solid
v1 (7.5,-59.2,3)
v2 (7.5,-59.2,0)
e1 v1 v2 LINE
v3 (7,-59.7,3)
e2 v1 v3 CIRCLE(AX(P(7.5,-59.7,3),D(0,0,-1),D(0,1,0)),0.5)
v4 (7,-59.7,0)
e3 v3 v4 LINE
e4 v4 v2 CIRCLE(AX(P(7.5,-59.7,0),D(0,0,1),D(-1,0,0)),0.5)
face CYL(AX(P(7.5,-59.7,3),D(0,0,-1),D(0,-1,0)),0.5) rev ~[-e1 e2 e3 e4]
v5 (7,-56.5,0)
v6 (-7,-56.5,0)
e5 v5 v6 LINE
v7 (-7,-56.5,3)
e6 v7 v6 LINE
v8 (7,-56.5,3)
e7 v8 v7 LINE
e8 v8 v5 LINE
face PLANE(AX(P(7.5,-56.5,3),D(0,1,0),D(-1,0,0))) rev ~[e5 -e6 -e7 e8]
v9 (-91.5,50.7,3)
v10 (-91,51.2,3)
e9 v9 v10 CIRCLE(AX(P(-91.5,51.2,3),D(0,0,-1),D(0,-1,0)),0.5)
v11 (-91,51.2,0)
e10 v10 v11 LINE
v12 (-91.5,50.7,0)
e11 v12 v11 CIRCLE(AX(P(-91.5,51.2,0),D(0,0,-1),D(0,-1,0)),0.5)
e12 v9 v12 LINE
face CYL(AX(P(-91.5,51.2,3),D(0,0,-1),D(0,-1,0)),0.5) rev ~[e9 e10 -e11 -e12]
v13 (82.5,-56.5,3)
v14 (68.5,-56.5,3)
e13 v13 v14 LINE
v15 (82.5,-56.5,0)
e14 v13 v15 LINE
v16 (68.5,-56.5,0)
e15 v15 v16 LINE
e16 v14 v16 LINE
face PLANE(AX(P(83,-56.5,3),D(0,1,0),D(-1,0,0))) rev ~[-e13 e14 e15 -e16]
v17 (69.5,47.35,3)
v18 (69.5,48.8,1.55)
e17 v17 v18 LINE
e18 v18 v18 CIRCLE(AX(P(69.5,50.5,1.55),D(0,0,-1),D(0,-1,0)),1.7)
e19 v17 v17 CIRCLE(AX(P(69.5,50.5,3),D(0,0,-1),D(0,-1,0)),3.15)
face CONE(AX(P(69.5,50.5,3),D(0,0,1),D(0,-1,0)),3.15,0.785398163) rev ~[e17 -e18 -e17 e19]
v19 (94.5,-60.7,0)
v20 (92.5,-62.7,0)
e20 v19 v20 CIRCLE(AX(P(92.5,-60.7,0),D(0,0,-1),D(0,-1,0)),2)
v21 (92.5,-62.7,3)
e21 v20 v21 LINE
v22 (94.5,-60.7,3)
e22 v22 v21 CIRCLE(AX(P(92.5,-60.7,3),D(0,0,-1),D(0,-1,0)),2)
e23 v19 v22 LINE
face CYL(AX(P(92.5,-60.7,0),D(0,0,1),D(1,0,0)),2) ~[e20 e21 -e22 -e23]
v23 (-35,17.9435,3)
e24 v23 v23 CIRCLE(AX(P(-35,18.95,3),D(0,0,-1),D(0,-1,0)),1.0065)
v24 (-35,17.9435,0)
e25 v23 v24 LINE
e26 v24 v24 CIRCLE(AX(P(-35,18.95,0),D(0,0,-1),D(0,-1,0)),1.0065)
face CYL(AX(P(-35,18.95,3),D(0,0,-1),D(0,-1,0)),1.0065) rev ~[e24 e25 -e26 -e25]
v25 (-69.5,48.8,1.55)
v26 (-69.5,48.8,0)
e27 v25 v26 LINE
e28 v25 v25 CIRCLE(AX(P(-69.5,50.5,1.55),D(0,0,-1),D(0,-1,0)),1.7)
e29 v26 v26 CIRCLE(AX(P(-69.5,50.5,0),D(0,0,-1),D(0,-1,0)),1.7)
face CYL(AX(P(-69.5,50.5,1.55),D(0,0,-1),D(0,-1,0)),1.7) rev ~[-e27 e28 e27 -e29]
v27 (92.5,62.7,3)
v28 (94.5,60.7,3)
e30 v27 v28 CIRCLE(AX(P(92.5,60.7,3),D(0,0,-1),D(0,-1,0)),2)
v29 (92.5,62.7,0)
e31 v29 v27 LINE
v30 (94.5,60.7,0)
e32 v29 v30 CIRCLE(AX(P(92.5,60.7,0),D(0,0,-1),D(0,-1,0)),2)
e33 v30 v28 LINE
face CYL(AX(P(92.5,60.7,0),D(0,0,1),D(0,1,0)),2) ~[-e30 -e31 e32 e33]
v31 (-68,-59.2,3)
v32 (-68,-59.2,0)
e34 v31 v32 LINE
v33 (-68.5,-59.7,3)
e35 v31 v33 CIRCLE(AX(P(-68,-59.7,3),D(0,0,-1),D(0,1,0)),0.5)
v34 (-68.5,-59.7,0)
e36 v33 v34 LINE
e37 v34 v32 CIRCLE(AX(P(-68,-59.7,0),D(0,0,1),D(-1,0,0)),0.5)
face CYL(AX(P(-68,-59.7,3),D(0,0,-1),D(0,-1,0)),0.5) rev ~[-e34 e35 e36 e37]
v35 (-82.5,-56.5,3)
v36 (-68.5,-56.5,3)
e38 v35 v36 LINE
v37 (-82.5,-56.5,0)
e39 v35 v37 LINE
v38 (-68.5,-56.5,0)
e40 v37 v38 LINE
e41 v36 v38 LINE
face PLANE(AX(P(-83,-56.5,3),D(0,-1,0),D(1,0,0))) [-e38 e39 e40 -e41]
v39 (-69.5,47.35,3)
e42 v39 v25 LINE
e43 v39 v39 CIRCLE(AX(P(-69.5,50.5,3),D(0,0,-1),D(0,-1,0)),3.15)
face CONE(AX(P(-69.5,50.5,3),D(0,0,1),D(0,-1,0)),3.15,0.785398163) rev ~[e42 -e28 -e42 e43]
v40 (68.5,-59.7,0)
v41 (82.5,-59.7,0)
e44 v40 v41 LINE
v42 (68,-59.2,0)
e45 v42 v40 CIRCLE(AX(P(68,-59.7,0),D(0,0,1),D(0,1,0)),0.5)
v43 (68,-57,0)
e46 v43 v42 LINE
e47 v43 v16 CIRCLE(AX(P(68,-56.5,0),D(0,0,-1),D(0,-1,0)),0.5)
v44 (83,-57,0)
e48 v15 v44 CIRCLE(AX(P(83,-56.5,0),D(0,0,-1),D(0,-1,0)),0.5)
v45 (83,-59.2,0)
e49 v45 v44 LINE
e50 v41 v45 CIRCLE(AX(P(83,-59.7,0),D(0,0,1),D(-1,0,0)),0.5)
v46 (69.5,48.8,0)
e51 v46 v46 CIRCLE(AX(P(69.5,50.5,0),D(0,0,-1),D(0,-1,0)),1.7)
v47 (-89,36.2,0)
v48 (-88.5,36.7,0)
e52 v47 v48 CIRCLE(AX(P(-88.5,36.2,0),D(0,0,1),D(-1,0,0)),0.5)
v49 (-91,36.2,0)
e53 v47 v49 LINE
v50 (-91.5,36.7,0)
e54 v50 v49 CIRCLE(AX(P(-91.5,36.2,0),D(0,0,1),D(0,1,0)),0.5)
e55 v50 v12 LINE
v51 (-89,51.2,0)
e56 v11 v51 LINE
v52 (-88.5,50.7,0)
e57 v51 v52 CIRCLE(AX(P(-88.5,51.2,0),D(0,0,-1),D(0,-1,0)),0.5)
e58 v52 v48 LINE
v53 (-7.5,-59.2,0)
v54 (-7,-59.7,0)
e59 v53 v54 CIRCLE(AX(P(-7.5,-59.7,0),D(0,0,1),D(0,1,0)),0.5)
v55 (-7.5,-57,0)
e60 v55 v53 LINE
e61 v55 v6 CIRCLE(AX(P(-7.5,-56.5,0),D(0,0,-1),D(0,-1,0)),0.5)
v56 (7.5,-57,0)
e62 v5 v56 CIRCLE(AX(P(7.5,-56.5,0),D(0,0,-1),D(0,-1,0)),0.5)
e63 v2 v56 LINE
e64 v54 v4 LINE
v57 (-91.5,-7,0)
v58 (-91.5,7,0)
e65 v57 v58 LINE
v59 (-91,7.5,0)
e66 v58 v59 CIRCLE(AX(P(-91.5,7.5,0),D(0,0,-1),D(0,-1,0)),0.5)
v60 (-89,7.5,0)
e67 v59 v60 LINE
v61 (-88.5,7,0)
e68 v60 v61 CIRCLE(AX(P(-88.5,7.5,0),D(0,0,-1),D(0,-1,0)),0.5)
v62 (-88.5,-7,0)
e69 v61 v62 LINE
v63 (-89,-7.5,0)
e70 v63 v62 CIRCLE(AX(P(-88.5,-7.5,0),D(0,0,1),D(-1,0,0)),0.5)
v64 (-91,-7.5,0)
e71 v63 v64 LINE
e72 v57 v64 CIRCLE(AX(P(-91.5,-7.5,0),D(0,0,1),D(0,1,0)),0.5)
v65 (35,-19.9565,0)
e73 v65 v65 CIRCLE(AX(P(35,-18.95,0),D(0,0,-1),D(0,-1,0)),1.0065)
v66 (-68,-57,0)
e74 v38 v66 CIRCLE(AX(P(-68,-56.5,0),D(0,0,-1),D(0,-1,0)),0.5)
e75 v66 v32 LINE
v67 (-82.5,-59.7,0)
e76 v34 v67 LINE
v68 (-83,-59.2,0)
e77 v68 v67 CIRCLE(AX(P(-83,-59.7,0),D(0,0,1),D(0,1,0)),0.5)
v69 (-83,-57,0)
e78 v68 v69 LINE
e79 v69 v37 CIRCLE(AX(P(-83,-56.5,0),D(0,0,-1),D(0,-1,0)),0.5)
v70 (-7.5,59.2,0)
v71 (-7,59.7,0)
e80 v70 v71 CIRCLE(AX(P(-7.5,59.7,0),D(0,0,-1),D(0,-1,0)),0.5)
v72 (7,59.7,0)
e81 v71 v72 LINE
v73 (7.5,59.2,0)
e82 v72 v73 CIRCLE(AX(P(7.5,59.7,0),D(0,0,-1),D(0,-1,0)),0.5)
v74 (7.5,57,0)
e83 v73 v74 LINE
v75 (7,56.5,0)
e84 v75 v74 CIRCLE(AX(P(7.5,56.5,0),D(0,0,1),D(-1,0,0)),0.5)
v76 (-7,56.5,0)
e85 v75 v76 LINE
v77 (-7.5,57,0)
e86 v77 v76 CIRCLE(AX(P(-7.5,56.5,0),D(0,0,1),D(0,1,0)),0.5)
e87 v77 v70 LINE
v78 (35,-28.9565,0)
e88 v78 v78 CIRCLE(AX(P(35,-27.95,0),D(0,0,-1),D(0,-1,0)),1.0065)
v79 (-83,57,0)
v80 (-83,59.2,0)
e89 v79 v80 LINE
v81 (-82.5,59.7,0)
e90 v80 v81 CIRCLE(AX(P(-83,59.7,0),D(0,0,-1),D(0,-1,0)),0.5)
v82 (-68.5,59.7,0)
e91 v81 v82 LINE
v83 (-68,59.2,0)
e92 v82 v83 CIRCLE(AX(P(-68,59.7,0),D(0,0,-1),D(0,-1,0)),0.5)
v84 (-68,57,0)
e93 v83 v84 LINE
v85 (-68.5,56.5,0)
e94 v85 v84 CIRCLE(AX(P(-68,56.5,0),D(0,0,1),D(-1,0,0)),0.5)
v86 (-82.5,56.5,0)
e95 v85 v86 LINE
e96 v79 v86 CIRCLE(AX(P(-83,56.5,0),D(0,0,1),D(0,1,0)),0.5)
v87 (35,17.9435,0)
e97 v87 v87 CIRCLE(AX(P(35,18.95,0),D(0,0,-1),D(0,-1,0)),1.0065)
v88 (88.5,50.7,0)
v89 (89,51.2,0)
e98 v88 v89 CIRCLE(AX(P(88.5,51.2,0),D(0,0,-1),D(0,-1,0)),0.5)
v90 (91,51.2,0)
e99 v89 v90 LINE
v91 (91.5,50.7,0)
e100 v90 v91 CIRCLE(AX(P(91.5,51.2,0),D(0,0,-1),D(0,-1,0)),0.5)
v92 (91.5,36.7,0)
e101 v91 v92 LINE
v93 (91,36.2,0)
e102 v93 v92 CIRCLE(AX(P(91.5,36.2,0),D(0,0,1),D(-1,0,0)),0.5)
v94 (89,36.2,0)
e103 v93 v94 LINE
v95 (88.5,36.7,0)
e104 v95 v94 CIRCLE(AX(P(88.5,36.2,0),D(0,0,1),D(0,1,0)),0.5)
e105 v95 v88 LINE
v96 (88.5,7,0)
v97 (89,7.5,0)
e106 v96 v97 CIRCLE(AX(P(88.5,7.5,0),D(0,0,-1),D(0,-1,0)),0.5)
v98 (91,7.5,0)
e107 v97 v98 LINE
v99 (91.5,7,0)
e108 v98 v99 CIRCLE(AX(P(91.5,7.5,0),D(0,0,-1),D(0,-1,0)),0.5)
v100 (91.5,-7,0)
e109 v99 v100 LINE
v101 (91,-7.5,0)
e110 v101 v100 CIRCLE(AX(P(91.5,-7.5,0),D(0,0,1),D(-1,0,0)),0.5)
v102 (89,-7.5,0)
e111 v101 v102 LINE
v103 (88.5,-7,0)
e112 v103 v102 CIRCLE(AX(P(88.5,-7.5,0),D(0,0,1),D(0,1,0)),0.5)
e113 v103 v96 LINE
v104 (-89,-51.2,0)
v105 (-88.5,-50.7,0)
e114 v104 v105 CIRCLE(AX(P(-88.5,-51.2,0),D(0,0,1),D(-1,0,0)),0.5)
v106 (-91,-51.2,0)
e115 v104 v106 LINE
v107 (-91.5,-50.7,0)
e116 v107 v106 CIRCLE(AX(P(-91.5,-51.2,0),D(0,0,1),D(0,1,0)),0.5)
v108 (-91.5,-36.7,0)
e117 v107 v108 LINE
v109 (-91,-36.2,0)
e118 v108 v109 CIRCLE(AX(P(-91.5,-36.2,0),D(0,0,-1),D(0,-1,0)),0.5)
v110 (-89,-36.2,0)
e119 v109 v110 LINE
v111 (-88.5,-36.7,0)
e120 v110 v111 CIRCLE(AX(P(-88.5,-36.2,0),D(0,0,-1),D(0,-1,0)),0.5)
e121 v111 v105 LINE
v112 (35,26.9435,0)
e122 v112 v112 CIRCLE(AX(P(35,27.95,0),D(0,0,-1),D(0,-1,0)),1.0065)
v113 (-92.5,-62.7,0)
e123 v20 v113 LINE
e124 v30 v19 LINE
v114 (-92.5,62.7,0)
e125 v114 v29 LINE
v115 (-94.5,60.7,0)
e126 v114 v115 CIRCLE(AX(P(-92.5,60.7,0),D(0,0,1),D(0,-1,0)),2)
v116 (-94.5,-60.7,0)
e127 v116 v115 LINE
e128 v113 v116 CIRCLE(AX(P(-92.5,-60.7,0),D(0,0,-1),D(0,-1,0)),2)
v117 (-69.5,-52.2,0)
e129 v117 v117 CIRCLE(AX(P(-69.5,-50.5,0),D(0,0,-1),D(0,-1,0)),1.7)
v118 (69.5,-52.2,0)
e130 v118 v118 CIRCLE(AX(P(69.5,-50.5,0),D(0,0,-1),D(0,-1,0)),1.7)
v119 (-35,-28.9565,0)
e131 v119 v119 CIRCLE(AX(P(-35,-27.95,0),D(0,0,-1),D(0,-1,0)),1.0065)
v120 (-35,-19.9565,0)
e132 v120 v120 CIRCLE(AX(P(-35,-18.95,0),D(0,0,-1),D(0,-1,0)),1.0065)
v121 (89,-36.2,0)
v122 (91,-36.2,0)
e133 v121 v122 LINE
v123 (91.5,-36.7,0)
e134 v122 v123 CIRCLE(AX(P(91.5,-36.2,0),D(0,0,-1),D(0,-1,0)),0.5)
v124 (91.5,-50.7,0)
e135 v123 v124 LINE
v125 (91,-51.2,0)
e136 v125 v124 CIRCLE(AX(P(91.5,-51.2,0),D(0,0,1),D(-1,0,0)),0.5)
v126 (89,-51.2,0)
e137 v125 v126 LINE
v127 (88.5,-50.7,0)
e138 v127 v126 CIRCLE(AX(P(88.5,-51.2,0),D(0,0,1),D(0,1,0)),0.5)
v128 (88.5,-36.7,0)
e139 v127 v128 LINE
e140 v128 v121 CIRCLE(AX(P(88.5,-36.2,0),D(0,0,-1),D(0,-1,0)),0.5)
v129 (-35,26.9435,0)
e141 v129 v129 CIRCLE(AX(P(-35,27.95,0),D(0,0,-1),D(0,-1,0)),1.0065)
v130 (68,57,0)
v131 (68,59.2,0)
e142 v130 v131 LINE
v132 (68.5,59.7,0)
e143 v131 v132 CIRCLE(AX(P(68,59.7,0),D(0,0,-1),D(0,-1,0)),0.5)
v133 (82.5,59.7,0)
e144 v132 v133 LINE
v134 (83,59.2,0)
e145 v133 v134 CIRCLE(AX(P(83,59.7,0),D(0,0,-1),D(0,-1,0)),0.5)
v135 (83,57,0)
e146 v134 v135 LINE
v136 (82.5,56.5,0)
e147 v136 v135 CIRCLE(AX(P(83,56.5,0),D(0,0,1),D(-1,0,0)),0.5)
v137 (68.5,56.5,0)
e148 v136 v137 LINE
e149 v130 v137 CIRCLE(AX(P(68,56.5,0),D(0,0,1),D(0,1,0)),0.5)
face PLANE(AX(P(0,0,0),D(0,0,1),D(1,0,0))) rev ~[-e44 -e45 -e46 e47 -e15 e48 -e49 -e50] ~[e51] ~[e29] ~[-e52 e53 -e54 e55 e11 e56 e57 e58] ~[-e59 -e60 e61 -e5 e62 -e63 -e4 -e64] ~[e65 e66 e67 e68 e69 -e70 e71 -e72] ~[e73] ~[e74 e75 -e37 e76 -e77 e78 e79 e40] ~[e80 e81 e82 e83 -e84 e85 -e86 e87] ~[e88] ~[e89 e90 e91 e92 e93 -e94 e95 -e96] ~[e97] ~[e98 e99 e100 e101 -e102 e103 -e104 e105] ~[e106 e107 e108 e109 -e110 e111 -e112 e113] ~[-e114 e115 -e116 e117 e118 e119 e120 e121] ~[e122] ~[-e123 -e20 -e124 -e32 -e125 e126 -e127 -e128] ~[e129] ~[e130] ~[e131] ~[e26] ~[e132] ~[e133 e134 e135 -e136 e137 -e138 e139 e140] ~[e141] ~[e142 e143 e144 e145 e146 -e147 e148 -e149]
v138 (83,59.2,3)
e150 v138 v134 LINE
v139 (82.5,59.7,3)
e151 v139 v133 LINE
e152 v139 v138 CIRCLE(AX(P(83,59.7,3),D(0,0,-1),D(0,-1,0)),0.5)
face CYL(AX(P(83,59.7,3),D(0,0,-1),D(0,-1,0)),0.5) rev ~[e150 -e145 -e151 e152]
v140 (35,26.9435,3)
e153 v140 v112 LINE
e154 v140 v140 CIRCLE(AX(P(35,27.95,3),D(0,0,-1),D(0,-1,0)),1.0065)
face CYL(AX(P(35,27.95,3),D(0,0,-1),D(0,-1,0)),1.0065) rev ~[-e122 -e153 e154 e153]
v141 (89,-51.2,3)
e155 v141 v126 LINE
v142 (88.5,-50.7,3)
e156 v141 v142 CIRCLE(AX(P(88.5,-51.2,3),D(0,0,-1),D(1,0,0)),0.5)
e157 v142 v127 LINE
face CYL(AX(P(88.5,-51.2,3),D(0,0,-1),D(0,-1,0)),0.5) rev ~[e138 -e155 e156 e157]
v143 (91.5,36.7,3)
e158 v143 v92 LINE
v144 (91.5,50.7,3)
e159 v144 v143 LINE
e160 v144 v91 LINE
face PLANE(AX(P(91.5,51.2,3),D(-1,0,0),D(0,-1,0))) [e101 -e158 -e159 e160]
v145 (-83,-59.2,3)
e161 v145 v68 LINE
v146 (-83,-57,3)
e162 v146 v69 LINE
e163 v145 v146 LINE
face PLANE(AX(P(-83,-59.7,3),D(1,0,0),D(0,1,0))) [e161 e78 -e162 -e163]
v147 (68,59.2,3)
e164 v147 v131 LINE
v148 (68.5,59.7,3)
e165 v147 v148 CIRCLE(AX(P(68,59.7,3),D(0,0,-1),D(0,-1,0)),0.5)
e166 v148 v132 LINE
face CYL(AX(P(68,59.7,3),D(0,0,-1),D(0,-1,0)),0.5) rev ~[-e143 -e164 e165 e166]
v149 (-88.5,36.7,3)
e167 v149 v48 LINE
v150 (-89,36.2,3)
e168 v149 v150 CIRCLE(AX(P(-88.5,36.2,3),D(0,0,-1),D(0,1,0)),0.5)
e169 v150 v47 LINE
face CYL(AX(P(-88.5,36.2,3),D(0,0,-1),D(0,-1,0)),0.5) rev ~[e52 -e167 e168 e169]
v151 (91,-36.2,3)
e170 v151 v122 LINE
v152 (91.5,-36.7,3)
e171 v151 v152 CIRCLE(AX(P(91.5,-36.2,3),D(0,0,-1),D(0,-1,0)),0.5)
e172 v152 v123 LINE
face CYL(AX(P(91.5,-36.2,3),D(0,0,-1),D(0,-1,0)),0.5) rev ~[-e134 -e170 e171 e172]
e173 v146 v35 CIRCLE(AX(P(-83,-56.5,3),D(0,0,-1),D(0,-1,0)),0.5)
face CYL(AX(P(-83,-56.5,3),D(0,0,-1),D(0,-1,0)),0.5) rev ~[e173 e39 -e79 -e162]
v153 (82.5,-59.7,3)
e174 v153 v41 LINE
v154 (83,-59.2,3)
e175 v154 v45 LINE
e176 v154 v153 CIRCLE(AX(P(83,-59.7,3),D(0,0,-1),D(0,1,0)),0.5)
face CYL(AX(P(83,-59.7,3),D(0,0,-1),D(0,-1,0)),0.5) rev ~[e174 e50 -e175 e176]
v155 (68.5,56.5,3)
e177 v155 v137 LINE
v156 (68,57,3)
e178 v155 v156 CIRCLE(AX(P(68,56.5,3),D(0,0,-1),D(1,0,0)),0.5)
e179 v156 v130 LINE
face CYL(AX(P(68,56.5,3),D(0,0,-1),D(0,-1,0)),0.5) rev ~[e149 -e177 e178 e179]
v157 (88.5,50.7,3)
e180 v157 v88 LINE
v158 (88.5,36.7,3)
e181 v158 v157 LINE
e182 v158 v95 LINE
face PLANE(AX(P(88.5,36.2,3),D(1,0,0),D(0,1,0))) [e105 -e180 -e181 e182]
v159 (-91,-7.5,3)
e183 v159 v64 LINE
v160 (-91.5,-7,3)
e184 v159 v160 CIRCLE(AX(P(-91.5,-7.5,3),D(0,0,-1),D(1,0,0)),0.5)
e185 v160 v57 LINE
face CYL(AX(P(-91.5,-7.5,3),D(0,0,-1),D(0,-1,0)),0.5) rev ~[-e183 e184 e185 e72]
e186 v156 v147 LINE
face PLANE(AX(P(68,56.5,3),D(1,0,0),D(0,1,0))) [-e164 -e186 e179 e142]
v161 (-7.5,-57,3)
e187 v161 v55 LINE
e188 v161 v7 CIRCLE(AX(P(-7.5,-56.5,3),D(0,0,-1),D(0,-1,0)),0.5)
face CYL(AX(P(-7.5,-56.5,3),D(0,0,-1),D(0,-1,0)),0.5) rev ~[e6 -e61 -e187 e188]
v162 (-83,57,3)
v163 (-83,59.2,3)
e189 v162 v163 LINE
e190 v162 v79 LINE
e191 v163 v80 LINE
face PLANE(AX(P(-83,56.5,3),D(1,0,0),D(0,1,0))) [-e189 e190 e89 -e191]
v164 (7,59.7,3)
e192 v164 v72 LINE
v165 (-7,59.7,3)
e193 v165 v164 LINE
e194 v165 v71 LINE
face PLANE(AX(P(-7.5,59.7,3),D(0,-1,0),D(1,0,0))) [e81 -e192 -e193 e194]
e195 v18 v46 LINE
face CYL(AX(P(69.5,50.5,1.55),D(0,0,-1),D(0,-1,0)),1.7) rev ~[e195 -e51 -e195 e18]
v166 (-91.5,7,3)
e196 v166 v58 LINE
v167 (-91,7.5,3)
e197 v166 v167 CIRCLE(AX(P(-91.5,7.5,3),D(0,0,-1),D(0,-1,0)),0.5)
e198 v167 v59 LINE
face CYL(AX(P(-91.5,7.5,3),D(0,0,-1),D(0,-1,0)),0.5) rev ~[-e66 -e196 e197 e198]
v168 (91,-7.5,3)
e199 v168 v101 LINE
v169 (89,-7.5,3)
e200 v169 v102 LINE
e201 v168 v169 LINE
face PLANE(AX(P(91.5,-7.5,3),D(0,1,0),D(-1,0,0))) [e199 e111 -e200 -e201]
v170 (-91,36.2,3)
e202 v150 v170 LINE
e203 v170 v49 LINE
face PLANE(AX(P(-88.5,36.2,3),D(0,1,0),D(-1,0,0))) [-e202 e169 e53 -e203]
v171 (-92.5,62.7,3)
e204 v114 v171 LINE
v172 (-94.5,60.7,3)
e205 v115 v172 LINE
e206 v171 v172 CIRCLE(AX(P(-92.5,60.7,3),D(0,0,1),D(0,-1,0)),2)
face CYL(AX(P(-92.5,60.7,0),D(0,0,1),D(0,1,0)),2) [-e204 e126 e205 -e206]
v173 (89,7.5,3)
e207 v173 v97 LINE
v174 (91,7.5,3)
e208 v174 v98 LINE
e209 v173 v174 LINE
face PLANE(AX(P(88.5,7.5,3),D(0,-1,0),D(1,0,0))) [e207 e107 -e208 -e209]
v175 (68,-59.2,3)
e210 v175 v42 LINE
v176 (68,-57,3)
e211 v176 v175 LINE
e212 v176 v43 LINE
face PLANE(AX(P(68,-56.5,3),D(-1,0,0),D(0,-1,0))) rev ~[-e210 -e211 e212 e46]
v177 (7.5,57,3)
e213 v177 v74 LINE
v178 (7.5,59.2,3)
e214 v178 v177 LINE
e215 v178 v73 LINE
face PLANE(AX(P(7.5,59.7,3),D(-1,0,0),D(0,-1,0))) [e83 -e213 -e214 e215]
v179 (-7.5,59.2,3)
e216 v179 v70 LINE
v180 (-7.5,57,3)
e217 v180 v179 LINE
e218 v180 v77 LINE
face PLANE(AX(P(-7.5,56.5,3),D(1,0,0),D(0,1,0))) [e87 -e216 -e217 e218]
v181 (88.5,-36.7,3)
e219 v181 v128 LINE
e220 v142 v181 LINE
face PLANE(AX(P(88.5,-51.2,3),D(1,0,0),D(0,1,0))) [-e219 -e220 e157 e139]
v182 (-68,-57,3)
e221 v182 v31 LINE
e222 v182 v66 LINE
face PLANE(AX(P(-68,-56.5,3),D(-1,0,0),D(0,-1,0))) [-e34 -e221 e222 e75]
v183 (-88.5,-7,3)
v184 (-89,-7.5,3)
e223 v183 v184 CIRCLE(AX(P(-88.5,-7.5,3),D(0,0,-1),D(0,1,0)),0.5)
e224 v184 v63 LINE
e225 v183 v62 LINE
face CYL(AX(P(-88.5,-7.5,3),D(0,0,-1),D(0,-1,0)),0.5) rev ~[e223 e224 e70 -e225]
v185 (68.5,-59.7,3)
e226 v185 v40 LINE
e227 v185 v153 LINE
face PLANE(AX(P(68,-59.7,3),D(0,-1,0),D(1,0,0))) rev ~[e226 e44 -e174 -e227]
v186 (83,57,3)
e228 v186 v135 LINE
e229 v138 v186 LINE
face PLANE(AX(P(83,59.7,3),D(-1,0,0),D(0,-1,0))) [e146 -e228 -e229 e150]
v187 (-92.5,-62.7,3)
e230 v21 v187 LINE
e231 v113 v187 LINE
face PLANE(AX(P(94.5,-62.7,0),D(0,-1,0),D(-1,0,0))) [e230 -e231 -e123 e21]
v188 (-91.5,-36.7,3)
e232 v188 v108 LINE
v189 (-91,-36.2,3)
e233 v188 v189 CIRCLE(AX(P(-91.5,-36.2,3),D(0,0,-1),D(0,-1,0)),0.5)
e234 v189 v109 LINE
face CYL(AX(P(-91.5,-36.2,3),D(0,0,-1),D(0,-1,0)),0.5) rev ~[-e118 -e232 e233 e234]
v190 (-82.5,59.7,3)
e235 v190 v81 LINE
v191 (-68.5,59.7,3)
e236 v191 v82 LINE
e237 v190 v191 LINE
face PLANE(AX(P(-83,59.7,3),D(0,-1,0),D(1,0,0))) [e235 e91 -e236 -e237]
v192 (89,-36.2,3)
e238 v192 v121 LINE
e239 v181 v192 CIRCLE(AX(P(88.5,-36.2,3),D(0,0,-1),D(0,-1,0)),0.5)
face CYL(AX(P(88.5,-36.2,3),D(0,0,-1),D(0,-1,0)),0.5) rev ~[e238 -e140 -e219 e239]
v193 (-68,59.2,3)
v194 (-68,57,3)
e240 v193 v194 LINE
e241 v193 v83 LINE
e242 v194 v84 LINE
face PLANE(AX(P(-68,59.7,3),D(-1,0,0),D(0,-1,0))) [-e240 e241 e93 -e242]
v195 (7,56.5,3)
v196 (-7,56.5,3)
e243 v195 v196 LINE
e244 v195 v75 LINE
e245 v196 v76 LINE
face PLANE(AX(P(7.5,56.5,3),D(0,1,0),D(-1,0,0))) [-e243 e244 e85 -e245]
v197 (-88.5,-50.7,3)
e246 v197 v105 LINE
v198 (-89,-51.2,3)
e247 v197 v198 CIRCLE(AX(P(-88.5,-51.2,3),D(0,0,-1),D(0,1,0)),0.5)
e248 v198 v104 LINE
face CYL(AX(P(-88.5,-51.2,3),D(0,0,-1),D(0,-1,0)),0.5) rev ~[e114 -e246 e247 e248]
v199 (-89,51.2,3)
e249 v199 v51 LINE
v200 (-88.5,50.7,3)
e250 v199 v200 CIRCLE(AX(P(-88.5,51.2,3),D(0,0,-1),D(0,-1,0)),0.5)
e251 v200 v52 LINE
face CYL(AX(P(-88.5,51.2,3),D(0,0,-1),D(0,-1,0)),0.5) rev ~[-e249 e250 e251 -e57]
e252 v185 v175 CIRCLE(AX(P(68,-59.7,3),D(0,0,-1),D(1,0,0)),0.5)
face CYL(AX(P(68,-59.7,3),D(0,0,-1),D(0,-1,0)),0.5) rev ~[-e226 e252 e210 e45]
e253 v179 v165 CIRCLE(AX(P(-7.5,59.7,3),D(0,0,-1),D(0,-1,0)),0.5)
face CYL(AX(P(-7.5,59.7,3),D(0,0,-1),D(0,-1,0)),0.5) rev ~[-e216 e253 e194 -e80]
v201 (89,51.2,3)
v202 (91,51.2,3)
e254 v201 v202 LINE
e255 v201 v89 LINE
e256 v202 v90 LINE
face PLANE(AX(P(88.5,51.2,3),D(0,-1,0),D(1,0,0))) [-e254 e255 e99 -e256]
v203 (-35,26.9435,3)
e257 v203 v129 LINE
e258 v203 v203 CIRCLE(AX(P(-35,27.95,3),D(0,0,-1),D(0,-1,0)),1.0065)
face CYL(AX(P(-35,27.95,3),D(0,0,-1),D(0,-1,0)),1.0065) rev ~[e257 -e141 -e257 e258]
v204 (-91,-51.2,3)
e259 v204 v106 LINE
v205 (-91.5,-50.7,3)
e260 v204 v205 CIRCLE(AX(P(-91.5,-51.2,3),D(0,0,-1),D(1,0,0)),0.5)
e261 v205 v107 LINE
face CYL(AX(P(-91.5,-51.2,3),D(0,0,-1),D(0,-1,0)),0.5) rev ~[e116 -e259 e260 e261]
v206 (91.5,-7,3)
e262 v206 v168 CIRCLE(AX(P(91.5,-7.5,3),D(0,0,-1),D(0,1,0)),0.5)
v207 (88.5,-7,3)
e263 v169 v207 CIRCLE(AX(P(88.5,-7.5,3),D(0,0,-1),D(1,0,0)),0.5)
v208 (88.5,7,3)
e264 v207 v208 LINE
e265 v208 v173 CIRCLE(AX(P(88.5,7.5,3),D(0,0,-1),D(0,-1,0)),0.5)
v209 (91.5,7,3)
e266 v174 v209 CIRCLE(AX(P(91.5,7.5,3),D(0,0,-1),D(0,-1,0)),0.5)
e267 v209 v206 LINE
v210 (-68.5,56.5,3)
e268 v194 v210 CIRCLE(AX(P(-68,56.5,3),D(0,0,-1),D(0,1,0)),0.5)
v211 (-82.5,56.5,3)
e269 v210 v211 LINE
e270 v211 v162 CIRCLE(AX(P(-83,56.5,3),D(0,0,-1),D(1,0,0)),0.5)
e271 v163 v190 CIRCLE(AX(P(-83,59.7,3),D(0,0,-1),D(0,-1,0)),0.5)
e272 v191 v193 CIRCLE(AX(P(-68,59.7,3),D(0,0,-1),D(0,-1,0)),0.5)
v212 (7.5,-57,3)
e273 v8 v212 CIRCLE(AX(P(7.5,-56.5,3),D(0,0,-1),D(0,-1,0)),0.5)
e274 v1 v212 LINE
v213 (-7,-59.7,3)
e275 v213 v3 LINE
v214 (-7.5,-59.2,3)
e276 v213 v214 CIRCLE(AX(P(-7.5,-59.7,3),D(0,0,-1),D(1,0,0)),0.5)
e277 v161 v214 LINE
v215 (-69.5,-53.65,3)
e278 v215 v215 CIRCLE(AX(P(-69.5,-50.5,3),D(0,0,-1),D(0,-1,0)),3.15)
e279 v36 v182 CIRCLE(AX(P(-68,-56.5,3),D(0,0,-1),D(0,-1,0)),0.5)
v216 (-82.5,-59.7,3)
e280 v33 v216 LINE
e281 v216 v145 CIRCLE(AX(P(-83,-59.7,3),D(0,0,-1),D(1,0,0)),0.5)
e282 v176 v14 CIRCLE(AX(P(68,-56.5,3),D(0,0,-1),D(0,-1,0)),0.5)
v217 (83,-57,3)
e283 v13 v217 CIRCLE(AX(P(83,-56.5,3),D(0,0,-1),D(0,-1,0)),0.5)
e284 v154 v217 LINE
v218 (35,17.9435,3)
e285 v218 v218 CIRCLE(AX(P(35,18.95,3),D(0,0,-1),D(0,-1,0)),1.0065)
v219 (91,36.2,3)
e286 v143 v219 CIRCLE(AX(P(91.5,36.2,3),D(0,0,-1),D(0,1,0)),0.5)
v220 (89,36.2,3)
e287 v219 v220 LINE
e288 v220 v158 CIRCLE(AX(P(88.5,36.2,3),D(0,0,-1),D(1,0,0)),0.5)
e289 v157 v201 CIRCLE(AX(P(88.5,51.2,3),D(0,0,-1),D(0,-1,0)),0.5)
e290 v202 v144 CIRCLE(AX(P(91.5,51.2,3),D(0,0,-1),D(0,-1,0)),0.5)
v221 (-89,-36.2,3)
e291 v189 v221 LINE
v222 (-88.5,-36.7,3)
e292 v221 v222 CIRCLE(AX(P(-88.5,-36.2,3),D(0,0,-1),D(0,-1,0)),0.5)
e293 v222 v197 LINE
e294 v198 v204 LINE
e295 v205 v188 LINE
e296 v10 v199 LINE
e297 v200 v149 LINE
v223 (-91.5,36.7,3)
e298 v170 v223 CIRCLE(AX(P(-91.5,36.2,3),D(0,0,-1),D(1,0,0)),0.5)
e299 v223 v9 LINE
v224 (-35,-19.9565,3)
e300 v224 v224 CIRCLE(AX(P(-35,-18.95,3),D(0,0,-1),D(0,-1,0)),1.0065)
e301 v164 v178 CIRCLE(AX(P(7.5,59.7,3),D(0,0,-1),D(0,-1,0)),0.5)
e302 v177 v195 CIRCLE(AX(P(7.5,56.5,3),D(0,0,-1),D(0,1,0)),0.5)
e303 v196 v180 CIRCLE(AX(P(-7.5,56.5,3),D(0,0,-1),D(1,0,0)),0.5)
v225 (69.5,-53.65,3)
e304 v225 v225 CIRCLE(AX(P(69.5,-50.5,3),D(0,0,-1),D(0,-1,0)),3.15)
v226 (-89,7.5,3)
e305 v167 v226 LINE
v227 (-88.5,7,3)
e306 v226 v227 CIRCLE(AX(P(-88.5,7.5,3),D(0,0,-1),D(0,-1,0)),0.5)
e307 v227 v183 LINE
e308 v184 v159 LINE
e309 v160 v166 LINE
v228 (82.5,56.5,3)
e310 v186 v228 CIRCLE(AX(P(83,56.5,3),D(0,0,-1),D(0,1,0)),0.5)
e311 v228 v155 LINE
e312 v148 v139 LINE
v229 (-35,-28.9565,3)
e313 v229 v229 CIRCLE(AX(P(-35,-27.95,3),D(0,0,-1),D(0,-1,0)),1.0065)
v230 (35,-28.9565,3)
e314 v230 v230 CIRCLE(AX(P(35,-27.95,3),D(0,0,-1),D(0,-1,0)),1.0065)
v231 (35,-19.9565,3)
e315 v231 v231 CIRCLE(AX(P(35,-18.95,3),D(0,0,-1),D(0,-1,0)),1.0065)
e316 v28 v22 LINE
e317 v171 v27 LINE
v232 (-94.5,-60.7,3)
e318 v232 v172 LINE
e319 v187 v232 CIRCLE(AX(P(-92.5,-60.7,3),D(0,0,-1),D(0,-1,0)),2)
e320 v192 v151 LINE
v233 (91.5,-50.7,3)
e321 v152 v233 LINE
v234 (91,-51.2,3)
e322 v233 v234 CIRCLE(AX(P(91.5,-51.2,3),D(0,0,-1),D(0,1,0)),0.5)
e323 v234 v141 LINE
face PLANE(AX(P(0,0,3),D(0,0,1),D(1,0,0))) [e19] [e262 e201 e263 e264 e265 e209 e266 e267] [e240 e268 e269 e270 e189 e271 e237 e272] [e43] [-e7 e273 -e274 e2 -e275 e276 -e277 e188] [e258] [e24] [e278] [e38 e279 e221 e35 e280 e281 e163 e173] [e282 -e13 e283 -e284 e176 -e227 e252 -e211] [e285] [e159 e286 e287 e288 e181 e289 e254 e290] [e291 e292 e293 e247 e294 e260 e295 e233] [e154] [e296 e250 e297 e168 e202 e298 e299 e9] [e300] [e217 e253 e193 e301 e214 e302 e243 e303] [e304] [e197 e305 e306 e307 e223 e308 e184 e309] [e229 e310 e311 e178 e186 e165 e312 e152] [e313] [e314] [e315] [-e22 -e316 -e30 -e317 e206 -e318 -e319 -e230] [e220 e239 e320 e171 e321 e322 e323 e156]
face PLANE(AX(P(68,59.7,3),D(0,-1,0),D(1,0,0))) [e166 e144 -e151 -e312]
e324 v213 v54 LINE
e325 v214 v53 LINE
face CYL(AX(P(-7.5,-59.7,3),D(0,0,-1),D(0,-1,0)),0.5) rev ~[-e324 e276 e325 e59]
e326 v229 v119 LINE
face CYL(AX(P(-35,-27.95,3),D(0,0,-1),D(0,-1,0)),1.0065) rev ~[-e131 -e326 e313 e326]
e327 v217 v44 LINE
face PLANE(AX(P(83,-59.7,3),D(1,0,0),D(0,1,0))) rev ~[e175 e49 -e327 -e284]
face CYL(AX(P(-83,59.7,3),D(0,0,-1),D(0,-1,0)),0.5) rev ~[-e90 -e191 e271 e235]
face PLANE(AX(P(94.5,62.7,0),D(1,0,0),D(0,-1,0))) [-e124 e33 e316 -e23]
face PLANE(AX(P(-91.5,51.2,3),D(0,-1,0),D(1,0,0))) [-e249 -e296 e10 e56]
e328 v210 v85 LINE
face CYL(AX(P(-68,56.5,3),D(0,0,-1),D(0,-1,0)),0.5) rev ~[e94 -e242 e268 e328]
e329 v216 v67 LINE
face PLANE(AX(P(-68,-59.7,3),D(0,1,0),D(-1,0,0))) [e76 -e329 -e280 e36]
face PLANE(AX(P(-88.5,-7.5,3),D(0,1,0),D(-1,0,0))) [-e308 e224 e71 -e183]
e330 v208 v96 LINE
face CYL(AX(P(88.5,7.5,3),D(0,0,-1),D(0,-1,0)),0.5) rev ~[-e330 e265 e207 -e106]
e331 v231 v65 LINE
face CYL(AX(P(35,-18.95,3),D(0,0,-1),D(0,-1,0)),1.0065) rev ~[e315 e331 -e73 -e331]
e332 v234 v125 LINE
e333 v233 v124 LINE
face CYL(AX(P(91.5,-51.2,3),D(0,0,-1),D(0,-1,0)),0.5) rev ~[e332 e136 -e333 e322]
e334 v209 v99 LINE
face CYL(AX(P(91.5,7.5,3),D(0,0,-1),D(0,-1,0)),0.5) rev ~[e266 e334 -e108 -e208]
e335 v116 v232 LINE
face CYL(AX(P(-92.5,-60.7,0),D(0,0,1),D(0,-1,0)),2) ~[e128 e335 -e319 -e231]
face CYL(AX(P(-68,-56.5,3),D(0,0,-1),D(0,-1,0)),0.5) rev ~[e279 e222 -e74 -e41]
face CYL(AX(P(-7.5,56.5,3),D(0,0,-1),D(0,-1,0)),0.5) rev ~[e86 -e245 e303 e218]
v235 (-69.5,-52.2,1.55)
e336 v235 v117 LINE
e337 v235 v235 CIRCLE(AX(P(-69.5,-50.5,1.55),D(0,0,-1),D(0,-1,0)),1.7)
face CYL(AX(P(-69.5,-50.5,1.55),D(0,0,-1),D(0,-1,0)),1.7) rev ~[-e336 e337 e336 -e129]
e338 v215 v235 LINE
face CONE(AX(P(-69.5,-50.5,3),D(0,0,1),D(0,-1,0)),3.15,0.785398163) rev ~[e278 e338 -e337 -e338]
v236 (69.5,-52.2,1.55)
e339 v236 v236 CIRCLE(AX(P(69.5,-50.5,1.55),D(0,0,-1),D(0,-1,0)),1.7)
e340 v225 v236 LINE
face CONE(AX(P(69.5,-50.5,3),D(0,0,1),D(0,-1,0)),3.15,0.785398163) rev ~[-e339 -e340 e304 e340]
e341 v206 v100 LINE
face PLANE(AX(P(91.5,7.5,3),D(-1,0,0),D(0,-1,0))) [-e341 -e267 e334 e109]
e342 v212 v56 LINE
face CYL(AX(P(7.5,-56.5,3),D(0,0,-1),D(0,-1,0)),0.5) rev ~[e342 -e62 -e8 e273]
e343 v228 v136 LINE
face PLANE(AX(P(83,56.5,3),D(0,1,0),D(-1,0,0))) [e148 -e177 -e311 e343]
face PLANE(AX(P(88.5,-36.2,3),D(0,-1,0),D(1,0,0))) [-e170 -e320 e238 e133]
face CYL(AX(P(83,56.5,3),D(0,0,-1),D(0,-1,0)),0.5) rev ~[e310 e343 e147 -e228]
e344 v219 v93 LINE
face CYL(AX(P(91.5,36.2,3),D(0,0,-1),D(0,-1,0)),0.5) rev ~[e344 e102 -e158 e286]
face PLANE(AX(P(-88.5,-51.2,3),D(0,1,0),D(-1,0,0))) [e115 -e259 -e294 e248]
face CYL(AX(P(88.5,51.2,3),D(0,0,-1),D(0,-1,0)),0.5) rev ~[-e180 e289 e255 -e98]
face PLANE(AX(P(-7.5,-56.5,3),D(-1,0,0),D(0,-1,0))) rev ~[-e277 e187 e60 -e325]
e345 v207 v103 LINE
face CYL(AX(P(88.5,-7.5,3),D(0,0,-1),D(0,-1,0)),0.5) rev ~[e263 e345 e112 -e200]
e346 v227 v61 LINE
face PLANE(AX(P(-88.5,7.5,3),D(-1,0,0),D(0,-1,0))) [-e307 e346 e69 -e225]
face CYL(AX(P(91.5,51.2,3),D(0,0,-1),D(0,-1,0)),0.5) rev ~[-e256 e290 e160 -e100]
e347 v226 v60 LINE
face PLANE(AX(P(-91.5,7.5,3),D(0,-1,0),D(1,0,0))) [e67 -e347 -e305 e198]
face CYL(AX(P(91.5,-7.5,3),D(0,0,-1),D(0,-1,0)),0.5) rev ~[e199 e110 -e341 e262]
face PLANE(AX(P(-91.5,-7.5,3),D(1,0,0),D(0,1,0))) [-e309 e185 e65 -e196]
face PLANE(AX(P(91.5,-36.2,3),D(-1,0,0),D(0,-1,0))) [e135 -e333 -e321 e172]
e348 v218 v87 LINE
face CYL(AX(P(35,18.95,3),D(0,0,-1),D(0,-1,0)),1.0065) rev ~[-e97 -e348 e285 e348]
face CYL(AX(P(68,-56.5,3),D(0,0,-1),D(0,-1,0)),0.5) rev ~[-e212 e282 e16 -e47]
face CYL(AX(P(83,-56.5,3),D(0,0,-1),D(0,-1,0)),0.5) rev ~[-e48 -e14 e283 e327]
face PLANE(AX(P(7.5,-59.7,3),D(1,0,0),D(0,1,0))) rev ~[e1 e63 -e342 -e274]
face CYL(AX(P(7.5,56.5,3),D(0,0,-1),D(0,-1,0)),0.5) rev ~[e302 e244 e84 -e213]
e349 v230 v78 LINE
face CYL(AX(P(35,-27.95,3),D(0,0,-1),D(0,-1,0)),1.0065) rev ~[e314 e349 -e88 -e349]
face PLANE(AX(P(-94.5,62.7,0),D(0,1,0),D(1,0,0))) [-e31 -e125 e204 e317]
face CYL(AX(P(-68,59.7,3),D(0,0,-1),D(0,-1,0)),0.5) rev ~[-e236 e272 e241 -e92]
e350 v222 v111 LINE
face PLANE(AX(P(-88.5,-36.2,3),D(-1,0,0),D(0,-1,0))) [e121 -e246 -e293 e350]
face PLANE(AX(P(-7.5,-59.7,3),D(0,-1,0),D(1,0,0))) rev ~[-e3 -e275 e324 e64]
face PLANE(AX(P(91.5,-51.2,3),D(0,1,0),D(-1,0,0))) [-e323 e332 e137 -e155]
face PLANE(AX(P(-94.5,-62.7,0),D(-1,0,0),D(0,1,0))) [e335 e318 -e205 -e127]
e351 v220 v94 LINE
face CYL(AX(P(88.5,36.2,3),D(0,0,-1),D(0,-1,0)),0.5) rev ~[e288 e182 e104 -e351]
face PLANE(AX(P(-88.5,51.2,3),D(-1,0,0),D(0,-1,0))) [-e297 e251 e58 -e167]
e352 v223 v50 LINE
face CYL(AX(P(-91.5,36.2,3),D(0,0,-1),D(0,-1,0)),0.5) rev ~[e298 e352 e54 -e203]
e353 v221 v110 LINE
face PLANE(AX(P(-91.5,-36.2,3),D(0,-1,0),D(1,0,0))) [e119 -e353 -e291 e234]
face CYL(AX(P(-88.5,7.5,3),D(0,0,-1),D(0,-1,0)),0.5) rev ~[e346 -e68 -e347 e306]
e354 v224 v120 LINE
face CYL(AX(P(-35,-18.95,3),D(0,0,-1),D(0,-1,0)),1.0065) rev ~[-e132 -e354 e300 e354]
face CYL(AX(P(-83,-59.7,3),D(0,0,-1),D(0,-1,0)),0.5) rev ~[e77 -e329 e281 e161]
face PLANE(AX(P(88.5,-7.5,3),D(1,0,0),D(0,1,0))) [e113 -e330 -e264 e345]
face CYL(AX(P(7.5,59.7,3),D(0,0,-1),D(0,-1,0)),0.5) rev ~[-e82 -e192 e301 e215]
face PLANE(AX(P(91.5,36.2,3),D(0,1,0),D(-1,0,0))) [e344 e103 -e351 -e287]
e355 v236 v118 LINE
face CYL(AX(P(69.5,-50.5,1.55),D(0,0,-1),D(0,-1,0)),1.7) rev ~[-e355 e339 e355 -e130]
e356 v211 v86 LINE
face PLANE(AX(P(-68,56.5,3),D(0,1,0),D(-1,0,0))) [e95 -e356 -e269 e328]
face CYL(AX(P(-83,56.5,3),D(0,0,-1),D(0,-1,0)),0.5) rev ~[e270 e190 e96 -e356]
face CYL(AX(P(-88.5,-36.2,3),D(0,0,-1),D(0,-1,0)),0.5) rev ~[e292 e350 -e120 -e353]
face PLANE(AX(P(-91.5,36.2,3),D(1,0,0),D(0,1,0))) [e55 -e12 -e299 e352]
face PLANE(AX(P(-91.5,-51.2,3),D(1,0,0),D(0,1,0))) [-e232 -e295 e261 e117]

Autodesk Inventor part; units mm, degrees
ref_plane "Plan YZ" through (0, 0, 0) normal (1, 0, 0) x (0, 1, 0)
ref_plane "Plan XZ" through (0, 0, 0) normal (0, 1, 0) x (-1, 0, 0)
ref_plane "Plan XY" through (0, 0, 0) normal (0, 0, 1) x (1, 0, 0)
sketch "Esquisse1" plane through (0, 0, 0) normal (0, 0, 1) x (1, 0, 0)
  line L0 (-94.5, 62.7) -> (94.5, 62.7)
  line L1 (94.5, 62.7) -> (94.5, -62.7)
  line L2 (94.5, -62.7) -> (-94.5, -62.7)
  line L3 (-94.5, -62.7) -> (-94.5, 62.7)
  line L4 (0, -87.78) -> (0, 87.78) construction
  line L5 (-132.3, 0) -> (132.3, 0) construction
  point P0 (0, 0)
  dimension "d0" = 189
  dimension "d1" = 125.4
extrude "Extrusion1" add sketch "Esquisse1" along normal blind 3
fillet "Congé1" radius 2 4 edges at (-94.5, 62.7, 1.5) (94.5, 62.7, 1.5) (94.5, -62.7, 1.5) (-94.5, -62.7, 1.5)
sketch "Esquisse21" plane through (0, 0, 3) normal (0, 0, 1) x (1, 0, 0)
  line L0 (-132.3, 0) -> (132.3, 0) construction
  line L1 (0, -87.78) -> (0, 87.78) construction
  line L2 (-7.5, 59.7) -> (7.5, 59.7)
  line L3 (7.5, 59.7) -> (7.5, 56.5)
  line L4 (7.5, 56.5) -> (-7.5, 56.5)
  line L5 (-7.5, 56.5) -> (-7.5, 59.7)
  line L6 (-92.5, 62.7) -> (92.5, 62.7) construction
  line L7 (-83, 59.7) -> (-68, 59.7)
  line L8 (-68, 59.7) -> (-68, 56.5)
  line L9 (-68, 56.5) -> (-83, 56.5)
  line L10 (-83, 56.5) -> (-83, 59.7)
  line L11 (-94.5, -60.7) -> (-94.5, 60.7) construction
  line L12 (68, 59.7) -> (83, 59.7)
  line L13 (83, 59.7) -> (83, 56.5)
  line L14 (83, 56.5) -> (68, 56.5)
  line L15 (68, 56.5) -> (68, 59.7)
  line L16 (-83, -56.5) -> (-68, -56.5)
  line L17 (-68, -56.5) -> (-68, -59.7)
  line L18 (-68, -59.7) -> (-83, -59.7)
  line L19 (-83, -59.7) -> (-83, -56.5)
  line L20 (-7.5, -59.7) -> (7.5, -59.7)
  line L21 (7.5, -59.7) -> (7.5, -56.5)
  line L22 (7.5, -56.5) -> (-7.5, -56.5)
  line L23 (-7.5, -56.5) -> (-7.5, -59.7)
  line L24 (68, -59.7) -> (83, -59.7)
  line L25 (83, -59.7) -> (83, -56.5)
  line L26 (83, -56.5) -> (68, -56.5)
  line L27 (68, -56.5) -> (68, -59.7)
  point P0 (0, 0)
  dimension "d216" = 15
  dimension "d217" = 3.2
  dimension "d218" = 3
  dimension "d221" = 11.5
extrude "Extrusion8" cut sketch "Esquisse21" against normal through all
sketch "Esquisse23" plane through (0, 0, 3) normal (0, 0, 1) x (1, 0, 0)
  line L0 (0, -87.78) -> (0, 87.78) construction
  line L1 (-132.3, 0) -> (132.3, 0) construction
  point P0 (0, 0)
  point P1 (-69.5, 50.5)
  point P2 (69.5, 50.5)
  point P3 (69.5, -50.5)
  point P4 (-69.5, -50.5)
  dimension "d238" = 139
  dimension "d239" = 101
hole "Perçage11" at (-69.5, 50.5, 3) at (69.5, 50.5, 3) at (69.5, -50.5, 3) at (-69.5, -50.5, 3) direction (0, 0, -1) diameter 3.4 end through all countersink diameter 6.3 countersink angle 90 clearance for "Vis à tête plate fraisée ISO 2009/7046" size "M3" standard "ISO"
sketch "Esquisse24" plane through (0, 0, 3) normal (0, 0, 1) x (1, 0, 0)
  line L0 (-91.5, 7.5) -> (-88.5, 7.5)
  line L1 (-88.5, 7.5) -> (-88.5, -7.5)
  line L2 (-88.5, -7.5) -> (-91.5, -7.5)
  line L3 (-91.5, -7.5) -> (-91.5, 7.5)
  line L4 (88.5, 7.5) -> (91.5, 7.5)
  line L5 (91.5, 7.5) -> (91.5, -7.5)
  line L6 (91.5, -7.5) -> (88.5, -7.5)
  line L7 (88.5, -7.5) -> (88.5, 7.5)
  line L8 (0, -87.78) -> (0, 87.78) construction
  line L9 (-91.5, 51.2) -> (-88.5, 51.2)
  line L10 (-88.5, 51.2) -> (-88.5, 36.2)
  line L11 (-88.5, 36.2) -> (-91.5, 36.2)
  line L12 (-91.5, 36.2) -> (-91.5, 51.2)
  line L13 (-91.5, -36.2) -> (-88.5, -36.2)
  line L14 (-88.5, -36.2) -> (-88.5, -51.2)
  line L15 (-88.5, -51.2) -> (-91.5, -51.2)
  line L16 (-91.5, -51.2) -> (-91.5, -36.2)
  line L17 (91.5, -51.2) -> (88.5, -51.2)
  line L18 (88.5, -51.2) -> (88.5, -36.2)
  line L19 (88.5, -36.2) -> (91.5, -36.2)
  line L20 (91.5, -36.2) -> (91.5, -51.2)
  line L21 (88.5, 51.2) -> (91.5, 51.2)
  line L22 (91.5, 51.2) -> (91.5, 36.2)
  line L23 (91.5, 36.2) -> (88.5, 36.2)
  line L24 (88.5, 36.2) -> (88.5, 51.2)
  line L25 (-94.5, -60.7) -> (-94.5, 60.7) construction
  line L26 (-132.3, 0) -> (132.3, 0) construction
  line L27 (92.5, -62.7) -> (-92.5, -62.7) construction
  point P0 (0, 0)
  dimension "d248" = 15
  dimension "d249" = 3
  dimension "d250" = 3
  dimension "d251" = 11.5
extrude "Extrusion9" cut sketch "Esquisse24" against normal through all
sketch "Esquisse22" plane through (0, 0, 3) normal (0, 0, 1) x (1, 0, 0)
  line L0 (-83, 59.7) -> (-68, 59.7) construction
  line L1 (-68, 56.5) -> (-83, 56.5) construction
  line L2 (-83, 56.5) -> (-83, 59.7) construction
  line L3 (-68, 59.7) -> (-68, 56.5) construction
  line L4 (-7.5, 56.5) -> (-7.5, 59.7) construction
  line L5 (-7.5, 59.7) -> (7.5, 59.7) construction
  line L6 (7.5, 56.5) -> (-7.5, 56.5) construction
  line L7 (7.5, 59.7) -> (7.5, 56.5) construction
  line L8 (83, 56.5) -> (68, 56.5) construction
  line L9 (68, 59.7) -> (83, 59.7) construction
  line L10 (68, 56.5) -> (68, 59.7) construction
  line L11 (83, 59.7) -> (83, 56.5) construction
  line L12 (7.5, -56.5) -> (7.5, -59.7) construction
  line L13 (7.5, -59.7) -> (-7.5, -59.7) construction
  line L14 (-7.5, -59.7) -> (-7.5, -56.5) construction
  line L15 (-7.5, -56.5) -> (7.5, -56.5) construction
  line L16 (68, 56.5) -> (68, 59.7) construction
  line L17 (68, 59.7) -> (83, 59.7) construction
  line L18 (83, 59.7) -> (83, 56.5) construction
  line L19 (83, 56.5) -> (68, 56.5) construction
  line L20 (-7.5, 56.5) -> (-7.5, 59.7) construction
  line L21 (-7.5, 59.7) -> (7.5, 59.7) construction
  line L22 (7.5, 59.7) -> (7.5, 56.5) construction
  line L23 (7.5, 56.5) -> (-7.5, 56.5) construction
  line L24 (-83, 56.5) -> (-83, 59.7) construction
  line L25 (-83, 59.7) -> (-68, 59.7) construction
  line L26 (-68, 59.7) -> (-68, 56.5) construction
  line L27 (-68, 56.5) -> (-83, 56.5) construction
  line L28 (-83, -59.7) -> (-83, -56.5) construction
  line L29 (-83, -56.5) -> (-68, -56.5) construction
  line L30 (-68, -56.5) -> (-68, -59.7) construction
  line L31 (-68, -59.7) -> (-83, -59.7) construction
  line L32 (83, -56.5) -> (83, -59.7) construction
  line L33 (83, -59.7) -> (68, -59.7) construction
  line L34 (68, -59.7) -> (68, -56.5) construction
  line L35 (68, -56.5) -> (83, -56.5) construction
  arc A0 (-94.5, -60.7) -> (-92.5, -62.7) centre (-92.5, -60.7) ccw construction
  line L36 (92.5, -62.7) -> (-92.5, -62.7) construction
  arc A1 (92.5, -62.7) -> (94.5, -60.7) centre (92.5, -60.7) ccw construction
  line L37 (94.5, 60.7) -> (94.5, -60.7) construction
  arc A2 (94.5, 60.7) -> (92.5, 62.7) centre (92.5, 60.7) ccw construction
  line L38 (-92.5, 62.7) -> (92.5, 62.7) construction
  arc A3 (-92.5, 62.7) -> (-94.5, 60.7) centre (-92.5, 60.7) ccw construction
  line L39 (-94.5, -60.7) -> (-94.5, 60.7) construction
  line L40 (-88.5, 51.2) -> (-88.5, 36.2) construction
  line L41 (-91.5, 51.2) -> (-88.5, 51.2) construction
  line L42 (-91.5, 36.2) -> (-91.5, 51.2) construction
  line L43 (-88.5, 36.2) -> (-91.5, 36.2) construction
  line L44 (-88.5, -7.5) -> (-91.5, -7.5) construction
  line L45 (-88.5, 7.5) -> (-88.5, -7.5) construction
  line L46 (-91.5, -7.5) -> (-91.5, 7.5) construction
  line L47 (-91.5, 7.5) -> (-88.5, 7.5) construction
  line L48 (-88.5, -36.2) -> (-88.5, -51.2) construction
  line L49 (-91.5, -36.2) -> (-88.5, -36.2) construction
  line L50 (-91.5, -51.2) -> (-91.5, -36.2) construction
  line L51 (-88.5, -51.2) -> (-91.5, -51.2) construction
  line L52 (91.5, 36.2) -> (88.5, 36.2) construction
  line L53 (88.5, 36.2) -> (88.5, 51.2) construction
  line L54 (88.5, 51.2) -> (91.5, 51.2) construction
  line L55 (91.5, 51.2) -> (91.5, 36.2) construction
  line L56 (88.5, 7.5) -> (91.5, 7.5) construction
  line L57 (88.5, -7.5) -> (88.5, 7.5) construction
  line L58 (91.5, 7.5) -> (91.5, -7.5) construction
  line L59 (91.5, -7.5) -> (88.5, -7.5) construction
  line L60 (88.5, -36.2) -> (91.5, -36.2) construction
  line L61 (88.5, -51.2) -> (88.5, -36.2) construction
  line L62 (91.5, -36.2) -> (91.5, -51.2) construction
  line L63 (91.5, -51.2) -> (88.5, -51.2) construction
  point P0 (0, 0)
hole "Perçage9" at (-83, 59.7, 3) at (-68, 59.7, 3) at (-68, 56.5, 3) at (-83, 56.5, 3) at (-7.5, 59.7, 3) at (7.5, 59.7, 3) at (7.5, 56.5, 3) at (68, 56.5, 3) at (68, 59.7, 3) at (83, 56.5, 3) at (83, 59.7, 3) at (83, -56.5, 3) at (83, -59.7, 3) at (68, -59.7, 3) at (68, -56.5, 3) at (-7.5, -56.5, 3) at (-7.5, -59.7, 3) at (7.5, -59.7, 3) at (-68, -59.7, 3) at (-83, -59.7, 3) at (-7.5, 56.5, 3) at (-83, -56.5, 3) at (-68, -56.5, 3) at (7.5, -56.5, 3) at (-88.5, 51.2, 3) at (-91.5, 51.2, 3) at (-91.5, 36.2, 3) at (-88.5, 36.2, 3) at (-88.5, 7.5, 3) at (-91.5, 7.5, 3) at (-91.5, -7.5, 3) at (-88.5, -7.5, 3) at (-88.5, -36.2, 3) at (-91.5, -36.2, 3) at (-91.5, -51.2, 3) at (-88.5, -51.2, 3) at (88.5, -36.2, 3) at (91.5, -36.2, 3) at (91.5, -51.2, 3) at (88.5, -51.2, 3) at (88.5, -7.5, 3) at (91.5, -7.5, 3) at (88.5, -7.5, 3) at (88.5, 7.5, 3) at (91.5, 7.5, 3) at (88.5, 36.2, 3) at (91.5, 36.2, 3) at (91.5, 51.2, 3) at (88.5, 51.2, 3) direction (0, 0, -1) diameter 1 end through all
sketch "Esquisse25" plane through (0, 0, 3) normal (0, 0, 1) x (1, 0, 0)
  line L0 (-150.9177, 0) -> (150.9177, 0) construction
  line L1 (0, -73.2964) -> (0, 73.2964) construction
  point P0 (0, 0)
  point P1 (0, 0)
  point P2 (35, -18.95)
  point P3 (35, 18.95)
  point P4 (35, 27.95)
  point P5 (-35, 27.95)
  point P6 (-35, 18.95)
  point P7 (-35, -18.95)
  point P8 (-35, -27.95)
  point P9 (35, -27.95)
  point P10 (0, 0)
  point P11 (0, 0)
  dimension "d255" = 35
  dimension "d256" = 9
  dimension "d264" = 37.9
hole "Perçage12" at (35, -18.95, 3) at (35, 18.95, 3) at (35, 27.95, 3) at (-35, 27.95, 3) at (-35, 18.95, 3) at (-35, -18.95, 3) at (-35, -27.95, 3) at (35, -27.95, 3) direction (0, 0, -1) diameter 2.013 end through all thread size "M2.5x0.45" class "6H" standard "ISO M"
properties part number "P1704_105" material "Plastique PMMA"
